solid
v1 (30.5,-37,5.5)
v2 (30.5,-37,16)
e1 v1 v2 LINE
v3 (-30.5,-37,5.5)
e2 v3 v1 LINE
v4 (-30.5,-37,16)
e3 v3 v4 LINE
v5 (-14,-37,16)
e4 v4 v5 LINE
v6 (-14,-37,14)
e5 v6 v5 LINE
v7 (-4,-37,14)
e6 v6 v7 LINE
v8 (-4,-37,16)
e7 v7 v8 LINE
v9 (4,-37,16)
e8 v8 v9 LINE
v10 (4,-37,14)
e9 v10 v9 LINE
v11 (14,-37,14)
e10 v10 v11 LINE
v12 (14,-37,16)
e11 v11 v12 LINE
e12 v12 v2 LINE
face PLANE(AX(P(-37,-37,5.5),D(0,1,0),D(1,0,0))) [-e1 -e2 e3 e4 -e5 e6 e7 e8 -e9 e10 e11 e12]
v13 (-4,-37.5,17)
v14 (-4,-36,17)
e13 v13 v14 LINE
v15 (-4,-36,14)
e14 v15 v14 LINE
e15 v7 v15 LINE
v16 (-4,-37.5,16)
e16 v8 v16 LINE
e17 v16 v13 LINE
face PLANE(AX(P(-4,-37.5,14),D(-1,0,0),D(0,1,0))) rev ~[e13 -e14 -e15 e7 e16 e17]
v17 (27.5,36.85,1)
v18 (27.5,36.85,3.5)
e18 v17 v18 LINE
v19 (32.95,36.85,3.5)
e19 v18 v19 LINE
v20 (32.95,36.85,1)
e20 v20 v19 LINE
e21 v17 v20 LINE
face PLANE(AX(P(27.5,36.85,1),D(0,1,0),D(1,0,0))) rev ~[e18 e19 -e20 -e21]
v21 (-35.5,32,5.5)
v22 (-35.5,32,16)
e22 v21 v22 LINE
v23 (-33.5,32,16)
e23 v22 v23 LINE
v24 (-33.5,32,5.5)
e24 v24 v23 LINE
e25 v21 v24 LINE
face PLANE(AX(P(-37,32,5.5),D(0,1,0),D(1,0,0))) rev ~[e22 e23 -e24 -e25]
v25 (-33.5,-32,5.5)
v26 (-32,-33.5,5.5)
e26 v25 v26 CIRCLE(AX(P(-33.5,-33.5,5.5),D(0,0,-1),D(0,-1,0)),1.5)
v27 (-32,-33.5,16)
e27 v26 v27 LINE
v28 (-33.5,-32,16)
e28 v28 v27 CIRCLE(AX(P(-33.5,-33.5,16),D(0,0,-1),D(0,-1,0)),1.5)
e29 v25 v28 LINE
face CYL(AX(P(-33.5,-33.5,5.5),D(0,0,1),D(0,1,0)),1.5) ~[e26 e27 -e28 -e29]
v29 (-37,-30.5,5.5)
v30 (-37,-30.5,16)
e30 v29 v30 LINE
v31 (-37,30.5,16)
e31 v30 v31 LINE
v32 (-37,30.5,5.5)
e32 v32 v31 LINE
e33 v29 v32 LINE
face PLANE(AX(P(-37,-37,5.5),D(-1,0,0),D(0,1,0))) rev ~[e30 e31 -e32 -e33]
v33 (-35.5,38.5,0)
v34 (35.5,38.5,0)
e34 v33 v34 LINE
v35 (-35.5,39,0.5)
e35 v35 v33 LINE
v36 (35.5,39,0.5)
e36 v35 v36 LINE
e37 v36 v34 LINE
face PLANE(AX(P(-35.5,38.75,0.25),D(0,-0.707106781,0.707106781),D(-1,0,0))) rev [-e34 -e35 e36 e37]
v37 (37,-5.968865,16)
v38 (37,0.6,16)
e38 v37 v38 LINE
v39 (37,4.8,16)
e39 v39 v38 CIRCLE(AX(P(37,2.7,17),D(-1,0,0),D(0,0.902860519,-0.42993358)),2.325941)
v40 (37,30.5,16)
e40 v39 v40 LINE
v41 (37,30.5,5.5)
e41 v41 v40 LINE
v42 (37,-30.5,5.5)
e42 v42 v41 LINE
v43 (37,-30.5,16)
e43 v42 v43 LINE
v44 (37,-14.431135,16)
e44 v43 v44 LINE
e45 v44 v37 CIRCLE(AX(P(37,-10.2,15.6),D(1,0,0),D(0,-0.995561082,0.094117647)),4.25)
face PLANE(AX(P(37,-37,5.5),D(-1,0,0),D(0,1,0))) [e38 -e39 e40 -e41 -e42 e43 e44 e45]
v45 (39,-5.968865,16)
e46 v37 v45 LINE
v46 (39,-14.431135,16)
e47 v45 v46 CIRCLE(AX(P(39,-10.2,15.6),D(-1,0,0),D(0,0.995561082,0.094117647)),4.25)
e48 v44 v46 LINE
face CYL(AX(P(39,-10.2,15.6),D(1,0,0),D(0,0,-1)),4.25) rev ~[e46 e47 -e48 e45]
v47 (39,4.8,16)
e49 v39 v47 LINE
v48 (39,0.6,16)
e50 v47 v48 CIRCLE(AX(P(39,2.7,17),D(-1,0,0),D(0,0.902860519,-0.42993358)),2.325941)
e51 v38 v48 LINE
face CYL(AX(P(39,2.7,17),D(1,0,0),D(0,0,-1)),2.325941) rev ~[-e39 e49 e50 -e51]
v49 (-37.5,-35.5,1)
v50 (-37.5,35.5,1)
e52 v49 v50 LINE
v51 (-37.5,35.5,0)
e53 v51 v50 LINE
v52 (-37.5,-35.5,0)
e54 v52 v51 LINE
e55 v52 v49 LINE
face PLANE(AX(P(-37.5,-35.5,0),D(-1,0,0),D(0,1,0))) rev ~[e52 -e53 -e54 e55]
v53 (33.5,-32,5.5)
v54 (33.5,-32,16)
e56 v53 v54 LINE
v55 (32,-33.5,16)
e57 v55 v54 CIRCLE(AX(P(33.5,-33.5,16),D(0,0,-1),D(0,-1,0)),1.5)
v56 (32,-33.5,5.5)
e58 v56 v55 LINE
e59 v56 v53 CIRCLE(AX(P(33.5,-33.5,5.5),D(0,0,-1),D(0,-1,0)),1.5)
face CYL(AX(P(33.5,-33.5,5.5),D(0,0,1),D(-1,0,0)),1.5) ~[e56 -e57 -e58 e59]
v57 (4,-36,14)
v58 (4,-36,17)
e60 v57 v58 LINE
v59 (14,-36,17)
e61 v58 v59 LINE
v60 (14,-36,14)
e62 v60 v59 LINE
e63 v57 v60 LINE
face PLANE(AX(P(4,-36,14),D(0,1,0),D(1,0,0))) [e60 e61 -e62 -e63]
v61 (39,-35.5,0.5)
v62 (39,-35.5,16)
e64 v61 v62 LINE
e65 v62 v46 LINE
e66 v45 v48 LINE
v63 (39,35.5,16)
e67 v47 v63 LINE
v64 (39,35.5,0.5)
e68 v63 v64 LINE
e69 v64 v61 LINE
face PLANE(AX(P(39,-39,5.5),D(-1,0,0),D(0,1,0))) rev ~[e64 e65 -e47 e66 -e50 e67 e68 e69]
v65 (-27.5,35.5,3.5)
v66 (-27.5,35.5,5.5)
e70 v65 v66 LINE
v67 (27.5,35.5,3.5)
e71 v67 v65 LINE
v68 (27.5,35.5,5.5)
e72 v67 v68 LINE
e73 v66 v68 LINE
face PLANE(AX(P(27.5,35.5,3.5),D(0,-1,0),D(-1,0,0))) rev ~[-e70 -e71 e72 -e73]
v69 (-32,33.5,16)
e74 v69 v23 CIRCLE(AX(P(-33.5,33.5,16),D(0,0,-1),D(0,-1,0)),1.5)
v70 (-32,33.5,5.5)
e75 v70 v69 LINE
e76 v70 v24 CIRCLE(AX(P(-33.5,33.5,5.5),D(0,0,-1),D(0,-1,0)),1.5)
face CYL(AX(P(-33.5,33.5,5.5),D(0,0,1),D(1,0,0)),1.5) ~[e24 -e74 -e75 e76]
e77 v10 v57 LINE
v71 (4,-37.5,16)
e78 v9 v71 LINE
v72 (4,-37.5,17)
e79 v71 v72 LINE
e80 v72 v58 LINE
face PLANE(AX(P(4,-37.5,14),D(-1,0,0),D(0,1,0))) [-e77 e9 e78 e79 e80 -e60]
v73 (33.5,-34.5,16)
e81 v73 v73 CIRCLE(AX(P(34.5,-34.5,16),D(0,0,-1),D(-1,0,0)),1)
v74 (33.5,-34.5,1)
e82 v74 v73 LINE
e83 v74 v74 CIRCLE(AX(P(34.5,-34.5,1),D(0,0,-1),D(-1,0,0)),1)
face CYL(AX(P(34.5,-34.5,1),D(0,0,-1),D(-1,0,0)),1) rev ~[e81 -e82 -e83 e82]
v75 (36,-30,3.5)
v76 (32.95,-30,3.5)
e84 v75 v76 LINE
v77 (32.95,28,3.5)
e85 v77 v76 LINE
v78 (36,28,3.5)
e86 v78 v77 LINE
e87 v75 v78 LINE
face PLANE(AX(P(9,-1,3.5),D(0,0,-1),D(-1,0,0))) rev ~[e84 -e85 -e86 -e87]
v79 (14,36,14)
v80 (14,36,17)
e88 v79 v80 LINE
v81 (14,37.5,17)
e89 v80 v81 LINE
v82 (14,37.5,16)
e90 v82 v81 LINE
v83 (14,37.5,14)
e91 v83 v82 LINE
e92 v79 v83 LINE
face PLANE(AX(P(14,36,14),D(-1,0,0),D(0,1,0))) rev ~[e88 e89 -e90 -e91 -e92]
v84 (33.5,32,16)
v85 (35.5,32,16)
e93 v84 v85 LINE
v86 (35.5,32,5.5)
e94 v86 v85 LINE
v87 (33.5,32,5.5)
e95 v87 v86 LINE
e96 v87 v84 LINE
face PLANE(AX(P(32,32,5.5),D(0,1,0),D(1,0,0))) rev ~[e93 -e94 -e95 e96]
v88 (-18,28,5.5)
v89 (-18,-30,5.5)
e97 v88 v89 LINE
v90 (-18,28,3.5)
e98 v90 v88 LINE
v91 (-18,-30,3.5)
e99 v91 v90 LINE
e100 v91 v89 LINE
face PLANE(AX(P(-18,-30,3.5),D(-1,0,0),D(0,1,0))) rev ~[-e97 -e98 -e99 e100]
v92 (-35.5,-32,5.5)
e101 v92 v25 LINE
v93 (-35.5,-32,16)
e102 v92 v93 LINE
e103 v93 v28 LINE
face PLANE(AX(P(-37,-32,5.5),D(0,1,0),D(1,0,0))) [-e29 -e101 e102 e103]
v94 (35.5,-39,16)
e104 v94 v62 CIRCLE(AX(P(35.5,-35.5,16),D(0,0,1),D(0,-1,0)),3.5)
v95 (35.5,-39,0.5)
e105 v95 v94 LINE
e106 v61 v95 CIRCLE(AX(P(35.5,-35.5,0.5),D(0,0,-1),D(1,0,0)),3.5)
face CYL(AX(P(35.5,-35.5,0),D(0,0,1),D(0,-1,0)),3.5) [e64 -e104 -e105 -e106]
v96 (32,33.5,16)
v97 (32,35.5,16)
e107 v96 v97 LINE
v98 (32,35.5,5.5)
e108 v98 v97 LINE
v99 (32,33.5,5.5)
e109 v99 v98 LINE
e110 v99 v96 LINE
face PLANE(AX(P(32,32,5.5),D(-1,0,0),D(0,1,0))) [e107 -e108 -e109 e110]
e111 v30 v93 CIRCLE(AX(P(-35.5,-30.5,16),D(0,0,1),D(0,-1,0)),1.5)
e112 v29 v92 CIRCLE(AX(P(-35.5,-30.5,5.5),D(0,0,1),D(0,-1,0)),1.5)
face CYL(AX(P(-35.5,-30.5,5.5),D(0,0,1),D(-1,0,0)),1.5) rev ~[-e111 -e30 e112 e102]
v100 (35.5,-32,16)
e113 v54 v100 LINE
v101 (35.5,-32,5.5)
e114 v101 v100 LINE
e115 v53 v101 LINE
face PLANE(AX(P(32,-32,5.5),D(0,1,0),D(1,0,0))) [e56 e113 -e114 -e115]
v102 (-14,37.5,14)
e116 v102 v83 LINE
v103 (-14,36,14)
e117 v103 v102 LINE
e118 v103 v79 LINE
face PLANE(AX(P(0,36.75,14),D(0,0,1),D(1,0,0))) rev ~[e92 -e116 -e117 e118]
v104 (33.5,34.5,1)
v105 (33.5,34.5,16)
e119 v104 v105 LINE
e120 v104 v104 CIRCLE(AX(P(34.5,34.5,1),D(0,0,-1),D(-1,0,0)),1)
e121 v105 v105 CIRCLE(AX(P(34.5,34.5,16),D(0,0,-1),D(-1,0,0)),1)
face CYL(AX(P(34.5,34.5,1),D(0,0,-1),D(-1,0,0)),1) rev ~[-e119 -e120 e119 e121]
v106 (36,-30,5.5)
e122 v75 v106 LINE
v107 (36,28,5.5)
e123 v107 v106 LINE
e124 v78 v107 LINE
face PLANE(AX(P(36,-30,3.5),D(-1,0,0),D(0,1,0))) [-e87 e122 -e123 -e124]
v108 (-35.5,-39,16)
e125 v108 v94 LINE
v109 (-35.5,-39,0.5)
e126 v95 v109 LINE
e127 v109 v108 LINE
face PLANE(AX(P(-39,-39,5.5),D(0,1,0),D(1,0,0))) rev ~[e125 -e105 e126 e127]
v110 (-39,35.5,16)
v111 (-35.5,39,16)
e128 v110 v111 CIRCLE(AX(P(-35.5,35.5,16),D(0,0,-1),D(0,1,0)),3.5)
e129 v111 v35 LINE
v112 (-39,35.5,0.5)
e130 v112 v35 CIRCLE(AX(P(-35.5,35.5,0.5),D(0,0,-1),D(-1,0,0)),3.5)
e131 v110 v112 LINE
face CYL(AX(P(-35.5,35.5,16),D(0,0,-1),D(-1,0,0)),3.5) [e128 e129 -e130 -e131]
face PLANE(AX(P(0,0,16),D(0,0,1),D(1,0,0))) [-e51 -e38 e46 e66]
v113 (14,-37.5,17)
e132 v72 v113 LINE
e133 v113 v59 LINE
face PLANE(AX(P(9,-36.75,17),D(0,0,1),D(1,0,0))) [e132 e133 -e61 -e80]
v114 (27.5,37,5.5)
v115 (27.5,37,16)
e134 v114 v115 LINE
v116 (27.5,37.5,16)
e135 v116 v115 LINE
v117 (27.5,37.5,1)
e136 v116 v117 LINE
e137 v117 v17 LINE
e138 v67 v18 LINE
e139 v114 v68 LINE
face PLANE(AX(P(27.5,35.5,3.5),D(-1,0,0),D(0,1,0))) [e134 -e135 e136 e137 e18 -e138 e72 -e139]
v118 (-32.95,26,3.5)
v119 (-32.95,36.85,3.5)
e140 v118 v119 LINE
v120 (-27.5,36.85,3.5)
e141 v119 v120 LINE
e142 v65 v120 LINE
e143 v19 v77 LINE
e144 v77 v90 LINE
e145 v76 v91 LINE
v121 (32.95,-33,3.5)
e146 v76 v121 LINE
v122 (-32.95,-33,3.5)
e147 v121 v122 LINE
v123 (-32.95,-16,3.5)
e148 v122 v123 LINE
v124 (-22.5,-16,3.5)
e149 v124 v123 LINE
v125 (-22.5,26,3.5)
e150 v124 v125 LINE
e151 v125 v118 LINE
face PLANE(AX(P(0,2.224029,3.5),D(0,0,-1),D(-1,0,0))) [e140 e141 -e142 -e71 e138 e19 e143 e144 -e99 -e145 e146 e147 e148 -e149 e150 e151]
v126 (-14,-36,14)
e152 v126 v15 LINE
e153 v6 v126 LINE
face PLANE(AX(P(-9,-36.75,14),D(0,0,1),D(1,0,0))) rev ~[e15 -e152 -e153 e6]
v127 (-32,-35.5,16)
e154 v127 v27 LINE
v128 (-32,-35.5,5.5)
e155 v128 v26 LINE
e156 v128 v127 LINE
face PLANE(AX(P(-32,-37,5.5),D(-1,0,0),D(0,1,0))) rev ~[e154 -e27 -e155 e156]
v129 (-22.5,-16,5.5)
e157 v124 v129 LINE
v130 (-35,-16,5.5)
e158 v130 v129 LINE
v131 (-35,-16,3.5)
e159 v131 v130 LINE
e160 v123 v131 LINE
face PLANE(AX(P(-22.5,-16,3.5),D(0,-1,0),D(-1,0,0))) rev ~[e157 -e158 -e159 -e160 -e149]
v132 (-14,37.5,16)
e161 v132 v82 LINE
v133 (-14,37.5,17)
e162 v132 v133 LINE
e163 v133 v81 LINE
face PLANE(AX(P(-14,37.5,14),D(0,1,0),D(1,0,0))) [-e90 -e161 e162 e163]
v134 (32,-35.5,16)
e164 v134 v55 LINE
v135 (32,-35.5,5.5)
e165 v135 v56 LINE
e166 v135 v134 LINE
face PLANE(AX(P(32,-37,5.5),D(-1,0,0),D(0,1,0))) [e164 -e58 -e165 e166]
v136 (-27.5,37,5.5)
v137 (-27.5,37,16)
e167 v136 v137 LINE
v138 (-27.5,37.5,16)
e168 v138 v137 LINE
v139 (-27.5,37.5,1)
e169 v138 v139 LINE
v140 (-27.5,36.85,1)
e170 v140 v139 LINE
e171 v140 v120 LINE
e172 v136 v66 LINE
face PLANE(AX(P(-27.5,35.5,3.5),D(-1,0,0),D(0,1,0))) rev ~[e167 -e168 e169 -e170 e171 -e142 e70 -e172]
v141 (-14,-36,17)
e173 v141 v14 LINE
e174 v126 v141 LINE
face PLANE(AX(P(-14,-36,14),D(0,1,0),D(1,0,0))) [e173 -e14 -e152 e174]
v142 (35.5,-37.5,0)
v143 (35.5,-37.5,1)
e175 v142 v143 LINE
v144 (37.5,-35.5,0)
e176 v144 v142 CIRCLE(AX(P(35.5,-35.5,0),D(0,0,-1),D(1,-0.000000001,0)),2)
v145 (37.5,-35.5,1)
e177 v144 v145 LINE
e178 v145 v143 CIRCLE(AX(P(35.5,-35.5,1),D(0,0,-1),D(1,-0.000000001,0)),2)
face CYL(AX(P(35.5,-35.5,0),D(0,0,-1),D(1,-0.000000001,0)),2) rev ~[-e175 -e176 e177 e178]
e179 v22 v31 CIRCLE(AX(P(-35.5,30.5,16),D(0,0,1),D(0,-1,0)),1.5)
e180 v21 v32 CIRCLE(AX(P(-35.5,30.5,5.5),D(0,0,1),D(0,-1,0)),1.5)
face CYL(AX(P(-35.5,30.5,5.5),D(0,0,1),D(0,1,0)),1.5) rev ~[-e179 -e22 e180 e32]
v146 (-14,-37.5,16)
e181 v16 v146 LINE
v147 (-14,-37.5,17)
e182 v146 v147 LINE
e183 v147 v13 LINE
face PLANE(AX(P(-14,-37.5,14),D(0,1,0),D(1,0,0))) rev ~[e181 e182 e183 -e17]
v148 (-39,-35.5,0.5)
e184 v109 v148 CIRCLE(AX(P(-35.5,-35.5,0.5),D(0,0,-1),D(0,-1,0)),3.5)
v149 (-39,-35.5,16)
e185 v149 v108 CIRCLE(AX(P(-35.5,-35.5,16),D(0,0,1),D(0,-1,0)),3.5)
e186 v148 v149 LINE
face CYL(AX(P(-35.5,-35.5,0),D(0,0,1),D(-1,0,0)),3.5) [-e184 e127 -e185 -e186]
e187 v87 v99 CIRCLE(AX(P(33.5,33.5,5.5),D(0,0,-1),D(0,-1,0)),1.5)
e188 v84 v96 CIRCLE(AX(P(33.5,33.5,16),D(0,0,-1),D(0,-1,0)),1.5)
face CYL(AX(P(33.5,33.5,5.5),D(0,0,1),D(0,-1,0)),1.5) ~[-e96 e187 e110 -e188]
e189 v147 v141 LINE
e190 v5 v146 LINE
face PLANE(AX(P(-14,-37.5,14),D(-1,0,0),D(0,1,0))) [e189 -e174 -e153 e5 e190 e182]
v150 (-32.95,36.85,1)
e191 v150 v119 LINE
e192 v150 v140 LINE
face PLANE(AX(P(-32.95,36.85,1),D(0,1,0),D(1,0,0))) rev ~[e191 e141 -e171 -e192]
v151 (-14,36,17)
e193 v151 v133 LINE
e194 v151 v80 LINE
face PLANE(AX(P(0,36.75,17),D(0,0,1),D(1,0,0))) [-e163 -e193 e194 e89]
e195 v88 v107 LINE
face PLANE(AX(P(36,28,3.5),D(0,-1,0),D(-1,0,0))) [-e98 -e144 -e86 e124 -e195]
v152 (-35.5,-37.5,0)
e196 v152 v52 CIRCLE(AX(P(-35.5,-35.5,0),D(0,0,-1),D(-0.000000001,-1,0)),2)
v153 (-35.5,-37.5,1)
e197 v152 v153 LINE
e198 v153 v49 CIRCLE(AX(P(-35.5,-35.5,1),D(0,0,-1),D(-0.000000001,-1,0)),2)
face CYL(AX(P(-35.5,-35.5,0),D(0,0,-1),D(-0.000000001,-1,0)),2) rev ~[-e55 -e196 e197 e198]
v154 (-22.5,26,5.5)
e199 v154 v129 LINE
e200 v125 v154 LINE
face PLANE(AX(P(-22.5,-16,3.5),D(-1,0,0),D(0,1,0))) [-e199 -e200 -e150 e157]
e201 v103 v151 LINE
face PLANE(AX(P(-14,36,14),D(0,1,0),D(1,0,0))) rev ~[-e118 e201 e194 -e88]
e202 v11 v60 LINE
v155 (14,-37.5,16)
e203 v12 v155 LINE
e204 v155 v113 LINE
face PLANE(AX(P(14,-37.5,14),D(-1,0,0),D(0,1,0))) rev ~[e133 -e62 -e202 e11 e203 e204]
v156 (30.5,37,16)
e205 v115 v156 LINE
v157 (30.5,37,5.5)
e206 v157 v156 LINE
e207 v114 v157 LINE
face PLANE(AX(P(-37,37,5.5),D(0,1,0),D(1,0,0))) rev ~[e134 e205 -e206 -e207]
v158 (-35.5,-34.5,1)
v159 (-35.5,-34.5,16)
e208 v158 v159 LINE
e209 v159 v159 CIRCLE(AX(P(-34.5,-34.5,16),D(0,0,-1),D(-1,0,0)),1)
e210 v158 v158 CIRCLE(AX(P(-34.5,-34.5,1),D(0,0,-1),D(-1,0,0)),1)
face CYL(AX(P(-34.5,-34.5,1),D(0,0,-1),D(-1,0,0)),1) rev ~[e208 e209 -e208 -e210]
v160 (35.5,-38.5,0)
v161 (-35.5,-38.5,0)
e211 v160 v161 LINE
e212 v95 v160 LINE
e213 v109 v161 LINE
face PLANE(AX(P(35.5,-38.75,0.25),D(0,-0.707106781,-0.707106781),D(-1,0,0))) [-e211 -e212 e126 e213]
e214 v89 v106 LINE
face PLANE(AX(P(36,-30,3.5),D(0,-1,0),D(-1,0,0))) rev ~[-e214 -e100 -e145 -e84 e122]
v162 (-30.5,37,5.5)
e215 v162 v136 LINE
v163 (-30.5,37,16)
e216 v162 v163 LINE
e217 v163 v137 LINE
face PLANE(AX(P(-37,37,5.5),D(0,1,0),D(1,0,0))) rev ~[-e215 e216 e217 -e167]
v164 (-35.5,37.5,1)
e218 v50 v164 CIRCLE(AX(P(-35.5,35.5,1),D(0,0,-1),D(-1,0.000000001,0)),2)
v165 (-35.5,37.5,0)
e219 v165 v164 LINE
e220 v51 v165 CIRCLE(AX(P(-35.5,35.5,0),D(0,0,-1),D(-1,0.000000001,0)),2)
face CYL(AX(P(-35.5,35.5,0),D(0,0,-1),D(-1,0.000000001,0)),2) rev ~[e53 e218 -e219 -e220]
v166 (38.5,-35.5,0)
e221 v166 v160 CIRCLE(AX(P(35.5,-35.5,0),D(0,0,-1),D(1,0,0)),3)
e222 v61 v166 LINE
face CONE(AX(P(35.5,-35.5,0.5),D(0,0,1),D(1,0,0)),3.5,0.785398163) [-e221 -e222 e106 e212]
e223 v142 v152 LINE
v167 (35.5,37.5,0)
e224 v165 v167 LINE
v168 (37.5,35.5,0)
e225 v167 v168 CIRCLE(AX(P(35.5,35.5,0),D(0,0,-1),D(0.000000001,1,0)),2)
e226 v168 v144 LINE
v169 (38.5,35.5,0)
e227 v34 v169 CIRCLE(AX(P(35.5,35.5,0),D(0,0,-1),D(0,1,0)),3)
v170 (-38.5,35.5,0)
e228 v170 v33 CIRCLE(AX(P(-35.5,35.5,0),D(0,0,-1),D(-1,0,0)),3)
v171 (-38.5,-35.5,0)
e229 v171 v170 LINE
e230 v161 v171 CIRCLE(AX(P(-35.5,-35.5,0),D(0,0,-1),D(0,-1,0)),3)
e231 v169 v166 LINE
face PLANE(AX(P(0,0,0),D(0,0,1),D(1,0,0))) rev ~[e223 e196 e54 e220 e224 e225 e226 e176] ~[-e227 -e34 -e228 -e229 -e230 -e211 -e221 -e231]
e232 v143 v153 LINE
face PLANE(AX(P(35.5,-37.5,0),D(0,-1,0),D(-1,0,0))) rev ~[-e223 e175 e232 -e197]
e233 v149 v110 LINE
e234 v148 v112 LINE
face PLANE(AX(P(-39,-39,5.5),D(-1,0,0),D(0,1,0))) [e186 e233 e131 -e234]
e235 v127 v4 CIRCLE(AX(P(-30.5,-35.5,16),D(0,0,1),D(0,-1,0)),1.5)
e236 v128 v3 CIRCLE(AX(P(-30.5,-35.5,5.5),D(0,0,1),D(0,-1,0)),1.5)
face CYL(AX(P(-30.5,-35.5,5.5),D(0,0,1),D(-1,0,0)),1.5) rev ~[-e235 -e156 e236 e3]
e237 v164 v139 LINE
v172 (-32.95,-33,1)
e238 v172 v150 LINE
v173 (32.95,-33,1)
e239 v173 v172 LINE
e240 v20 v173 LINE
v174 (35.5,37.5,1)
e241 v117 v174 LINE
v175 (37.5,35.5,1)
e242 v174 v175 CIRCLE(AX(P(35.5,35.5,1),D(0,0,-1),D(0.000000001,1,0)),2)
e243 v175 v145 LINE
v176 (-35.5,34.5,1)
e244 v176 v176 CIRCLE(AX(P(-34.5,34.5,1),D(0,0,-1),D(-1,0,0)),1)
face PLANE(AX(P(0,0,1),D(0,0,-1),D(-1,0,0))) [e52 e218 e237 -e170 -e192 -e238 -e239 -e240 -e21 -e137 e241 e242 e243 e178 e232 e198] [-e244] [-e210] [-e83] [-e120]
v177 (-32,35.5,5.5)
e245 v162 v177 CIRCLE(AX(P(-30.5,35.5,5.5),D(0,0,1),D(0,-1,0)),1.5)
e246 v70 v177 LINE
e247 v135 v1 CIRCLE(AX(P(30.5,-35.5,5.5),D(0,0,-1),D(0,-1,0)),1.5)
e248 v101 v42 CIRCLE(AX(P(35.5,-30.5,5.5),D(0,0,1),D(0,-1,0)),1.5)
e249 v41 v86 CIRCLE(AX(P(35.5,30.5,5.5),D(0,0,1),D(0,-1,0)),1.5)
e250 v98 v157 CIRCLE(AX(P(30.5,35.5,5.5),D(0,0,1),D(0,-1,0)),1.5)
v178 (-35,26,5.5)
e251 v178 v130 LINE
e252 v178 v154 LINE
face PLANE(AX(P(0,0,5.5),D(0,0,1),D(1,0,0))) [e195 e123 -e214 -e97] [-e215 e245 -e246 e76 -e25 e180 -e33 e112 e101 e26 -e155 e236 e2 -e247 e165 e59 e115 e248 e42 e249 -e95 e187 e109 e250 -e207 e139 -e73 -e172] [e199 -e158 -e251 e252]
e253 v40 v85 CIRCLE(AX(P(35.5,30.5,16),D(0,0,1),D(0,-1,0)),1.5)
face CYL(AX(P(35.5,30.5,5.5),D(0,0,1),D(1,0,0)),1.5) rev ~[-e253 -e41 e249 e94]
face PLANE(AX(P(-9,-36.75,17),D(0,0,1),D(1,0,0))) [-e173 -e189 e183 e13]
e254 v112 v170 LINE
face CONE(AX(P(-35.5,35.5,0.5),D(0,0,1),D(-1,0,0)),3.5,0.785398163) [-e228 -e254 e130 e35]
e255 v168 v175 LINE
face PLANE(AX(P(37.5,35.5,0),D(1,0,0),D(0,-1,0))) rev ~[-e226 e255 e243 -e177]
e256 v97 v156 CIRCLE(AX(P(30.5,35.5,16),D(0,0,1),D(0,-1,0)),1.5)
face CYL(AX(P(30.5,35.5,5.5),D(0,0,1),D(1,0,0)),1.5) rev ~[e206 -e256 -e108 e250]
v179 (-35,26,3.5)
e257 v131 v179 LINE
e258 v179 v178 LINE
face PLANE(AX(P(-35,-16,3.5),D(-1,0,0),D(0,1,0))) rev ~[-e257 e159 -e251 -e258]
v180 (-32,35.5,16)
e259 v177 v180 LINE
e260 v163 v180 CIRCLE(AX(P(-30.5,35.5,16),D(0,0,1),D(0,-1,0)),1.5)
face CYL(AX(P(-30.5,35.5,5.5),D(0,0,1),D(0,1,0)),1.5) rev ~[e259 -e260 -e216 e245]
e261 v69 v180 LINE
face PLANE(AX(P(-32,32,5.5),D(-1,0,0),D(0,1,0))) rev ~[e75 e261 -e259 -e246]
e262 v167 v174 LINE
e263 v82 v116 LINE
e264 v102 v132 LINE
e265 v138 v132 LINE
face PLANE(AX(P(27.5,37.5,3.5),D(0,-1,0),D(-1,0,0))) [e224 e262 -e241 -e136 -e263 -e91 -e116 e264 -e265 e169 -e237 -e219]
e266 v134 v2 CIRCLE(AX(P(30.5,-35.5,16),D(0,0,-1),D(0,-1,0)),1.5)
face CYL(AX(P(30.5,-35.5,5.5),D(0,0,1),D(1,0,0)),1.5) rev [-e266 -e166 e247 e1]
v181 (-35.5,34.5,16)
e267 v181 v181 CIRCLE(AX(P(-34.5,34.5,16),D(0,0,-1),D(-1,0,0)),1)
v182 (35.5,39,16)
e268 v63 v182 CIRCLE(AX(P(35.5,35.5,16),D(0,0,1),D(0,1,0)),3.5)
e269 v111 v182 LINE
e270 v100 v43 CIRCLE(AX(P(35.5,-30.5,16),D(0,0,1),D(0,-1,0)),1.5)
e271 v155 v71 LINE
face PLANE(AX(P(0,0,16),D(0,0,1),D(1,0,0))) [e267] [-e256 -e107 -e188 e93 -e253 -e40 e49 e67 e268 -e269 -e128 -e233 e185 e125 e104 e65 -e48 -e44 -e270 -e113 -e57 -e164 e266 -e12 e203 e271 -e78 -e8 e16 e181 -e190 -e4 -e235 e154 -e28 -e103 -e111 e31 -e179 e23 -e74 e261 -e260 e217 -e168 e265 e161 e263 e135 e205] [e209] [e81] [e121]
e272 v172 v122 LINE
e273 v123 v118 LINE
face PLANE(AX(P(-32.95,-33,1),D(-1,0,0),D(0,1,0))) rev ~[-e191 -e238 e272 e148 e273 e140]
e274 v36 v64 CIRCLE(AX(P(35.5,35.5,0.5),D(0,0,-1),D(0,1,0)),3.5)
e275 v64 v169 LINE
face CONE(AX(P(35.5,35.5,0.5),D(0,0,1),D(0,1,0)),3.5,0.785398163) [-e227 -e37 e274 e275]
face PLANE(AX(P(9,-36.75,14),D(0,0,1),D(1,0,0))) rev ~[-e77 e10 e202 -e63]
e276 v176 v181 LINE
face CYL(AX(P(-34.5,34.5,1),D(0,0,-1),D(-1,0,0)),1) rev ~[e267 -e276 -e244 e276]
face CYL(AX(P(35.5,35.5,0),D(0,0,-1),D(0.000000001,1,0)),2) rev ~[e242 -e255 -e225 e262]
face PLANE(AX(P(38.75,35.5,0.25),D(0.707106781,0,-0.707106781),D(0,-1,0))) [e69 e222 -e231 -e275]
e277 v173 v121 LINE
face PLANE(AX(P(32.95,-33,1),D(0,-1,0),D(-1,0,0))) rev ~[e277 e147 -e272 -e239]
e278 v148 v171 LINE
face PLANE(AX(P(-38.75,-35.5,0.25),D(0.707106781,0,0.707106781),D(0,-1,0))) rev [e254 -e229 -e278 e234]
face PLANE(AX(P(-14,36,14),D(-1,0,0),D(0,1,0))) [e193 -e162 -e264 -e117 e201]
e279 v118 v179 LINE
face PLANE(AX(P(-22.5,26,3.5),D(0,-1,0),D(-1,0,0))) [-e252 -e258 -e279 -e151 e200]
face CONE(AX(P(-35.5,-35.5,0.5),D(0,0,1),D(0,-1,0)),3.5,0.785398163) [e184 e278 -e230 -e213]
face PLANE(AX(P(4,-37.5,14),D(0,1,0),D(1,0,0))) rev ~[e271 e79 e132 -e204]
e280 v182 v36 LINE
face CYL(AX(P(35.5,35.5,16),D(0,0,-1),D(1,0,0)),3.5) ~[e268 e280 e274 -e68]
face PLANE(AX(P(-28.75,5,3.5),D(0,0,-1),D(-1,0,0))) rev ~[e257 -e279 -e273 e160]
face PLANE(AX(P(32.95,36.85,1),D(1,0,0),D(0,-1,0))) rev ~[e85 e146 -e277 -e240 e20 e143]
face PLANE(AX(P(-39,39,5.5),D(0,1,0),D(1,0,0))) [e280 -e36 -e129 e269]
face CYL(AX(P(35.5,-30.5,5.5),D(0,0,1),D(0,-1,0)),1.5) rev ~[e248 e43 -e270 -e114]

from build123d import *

# Parameters (mm, degrees)
SKETCH_1_W           = 78
SKETCH_1_H           = 78
EXTRUDE_1_DEPTH      = 5.5
SKETCH_2_W           = 78
SKETCH_2_H           = 78
SKETCH_2_W_2         = 74
SKETCH_2_H_2         = 74
SKETCH_2_W_3         = 5
SKETCH_2_H_3         = 5
EXTRUDE_2_DEPTH      = 10.5
FILLET_1_R           = 1.5
FILLET_2_R           = 3.5
CUT_EXTRUDE_1_DEPTH  = 1
CUT_EXTRUDE_2_DEPTH  = 2.5
SKETCH_5_R           = 1
CUT_EXTRUDE_3_DEPTH  = 58.15767665
CHAMFER_1_SIZE       = 0.5
SKETCH_6_W           = 55
SKETCH_6_H           = 2
SKETCH_6_W_2         = 54
SKETCH_6_H_2         = 58
SKETCH_6_W_3         = 12.5
SKETCH_6_H_3         = 42
CUT_EXTRUDE_4_DEPTH  = 57.553072419
EXTRUDE_3_DEPTH      = 1
EXTRUDE_3_DEPTH_BACK = 2
SKETCH_7_W           = 10
SKETCH_7_H           = 1.5
SKETCH_7_W_2         = 28
SKETCH_8_R           = 4.25
SKETCH_8_R_2         = 2.32594067
CUT_EXTRUDE_5_DEPTH  = 10


with BuildPart() as part:
    # 草图1 → 凸台-拉伸1 (new body)
    with BuildSketch(Plane.XY):
        Rectangle(SKETCH_1_W, SKETCH_1_H)
    extrude(amount=EXTRUDE_1_DEPTH)

    # 草图2 → 凸台-拉伸2 (add)
    # profile 1 of 5: a face of its own
    with BuildSketch(Plane.XY.offset(5.5)):
        Rectangle(SKETCH_2_W, SKETCH_2_H)
        Rectangle(SKETCH_2_W_2, SKETCH_2_H_2, mode=Mode.SUBTRACT)
    # profile 2 of 5: a face of its own
    with BuildSketch(Plane.XY.offset(5.5)):
        with Locations((-34.5, 34.5)):
            Rectangle(SKETCH_2_W_3, SKETCH_2_H_3)
    # profile 3 of 5: a face of its own
    with BuildSketch(Plane.XY.offset(5.5)):
        with Locations((34.5, 34.5)):
            Rectangle(SKETCH_2_W_3, SKETCH_2_H_3)
    # profile 4 of 5: a face of its own
    with BuildSketch(Plane.XY.offset(5.5)):
        with Locations((34.5, -34.5)):
            Rectangle(SKETCH_2_W_3, SKETCH_2_H_3)
    # profile 5 of 5: a face of its own
    with BuildSketch(Plane.XY.offset(5.5)):
        with Locations((-34.5, -34.5)):
            Rectangle(SKETCH_2_W_3, SKETCH_2_H_3)
    extrude(amount=EXTRUDE_2_DEPTH)

    # 圆角1
    fillet_1_edges = [part.edges().sort_by_distance(p)[0] for p in [
        (-37, -32, 10.75),
        (-37, 32, 10.75),
        (-32, 32, 10.75),
        (-32, 37, 10.75),
        (32, 37, 10.75),
        (32, 32, 10.75),
        (37, 32, 10.75),
        (37, -32, 10.75),
        (32, -32, 10.75),
        (32, -37, 10.75),
        (-32, -37, 10.75),
        (-32, -32, 10.75),
    ]]
    fillet(fillet_1_edges, radius=FILLET_1_R)

    # 圆角2
    fillet_2_edges = [part.edges().sort_by_distance(p)[0] for p in [
        (39, -39, 8),
        (-39, -39, 8),
        (-39, 39, 8),
        (39, 39, 8),
    ]]
    fillet(fillet_2_edges, radius=FILLET_2_R)

    # 草图3 → 切除-拉伸1 (cut)
    with BuildSketch(Plane(origin=(0, 0, 0), x_dir=(-1, 0, 0), z_dir=(0, 0, -1))):
        with BuildLine():
            Line((37.5, -35.5), (37.5, 35.5))
            ThreePointArc((37.5, 35.5), (36.914213562, 36.914213562), (35.5, 37.5))
            Line((35.5, 37.5), (-35.5, 37.5))
            ThreePointArc((-35.5, 37.5), (-36.914213562, 36.914213562), (-37.5, 35.5))
            Line((-37.5, 35.5), (-37.5, -35.5))
            ThreePointArc((-37.5, -35.5), (-36.914213562, -36.914213562), (-35.5, -37.5))
            Line((-35.5, -37.5), (35.5, -37.5))
            ThreePointArc((35.5, -37.5), (36.914213562, -36.914213562), (37.5, -35.5))
        make_face()
    extrude(amount=-CUT_EXTRUDE_1_DEPTH, mode=Mode.SUBTRACT)

    # 草图4 → 切除-拉伸2 (cut)
    with BuildSketch(Plane(origin=(0, 0, 1), x_dir=(-1, 0, 0), z_dir=(0, 0, -1))):
        Polygon((27.5, 37.5), (-27.5, 37.5), (-27.5, 36.85), (-32.95, 36.85), (-32.95, -33), (32.95, -33), (32.95, 36.85), (27.5, 36.85), align=None)
    extrude(amount=-CUT_EXTRUDE_2_DEPTH, mode=Mode.SUBTRACT)

    # 草图5 → 切除-拉伸3 (cut, through all)
    with BuildSketch(Plane(origin=(0, 0, 1), x_dir=(-1, 0, 0), z_dir=(0, 0, -1))):
        with Locations((-34.5, 34.5)):
            Circle(SKETCH_5_R)
        with Locations((34.5, 34.5)):
            Circle(SKETCH_5_R)
        with Locations((34.5, -34.5)):
            Circle(SKETCH_5_R)
        with Locations((-34.5, -34.5)):
            Circle(SKETCH_5_R)
    extrude(amount=-CUT_EXTRUDE_3_DEPTH, mode=Mode.SUBTRACT)

    # 倒角1
    chamfer_1_edges = [part.edges().sort_by_distance(p)[0] for p in [
        (-39, 0, 0),
        (39, 0, 0),
        (0, -39, 0),
        (0, 39, 0),
        (-37.974873734, -37.974873734, 0),
        (37.974873734, -37.974873734, 0),
        (37.974873734, 37.974873734, 0),
        (-37.974873734, 37.974873734, 0),
    ]]
    chamfer(chamfer_1_edges, length=CHAMFER_1_SIZE)

    # 草图6 → 切除-拉伸4 (cut, through all)
    with BuildSketch(Plane(origin=(0, 0, 3.5), x_dir=(-1, 0, 0), z_dir=(0, 0, -1))):
        with Locations((0, 36.5)):
            Rectangle(SKETCH_6_W, SKETCH_6_H)
        with Locations((-9, -1)):
            Rectangle(SKETCH_6_W_2, SKETCH_6_H_2)
        with Locations((28.75, 5)):
            Rectangle(SKETCH_6_W_3, SKETCH_6_H_3)
    extrude(amount=-CUT_EXTRUDE_4_DEPTH, mode=Mode.SUBTRACT)

    # 草图7 → 凸台-拉伸3 (add, two sides: drawn at the far end of the back side and taken through both)
    with BuildSketch(Plane.XY.offset(16).offset(-EXTRUDE_3_DEPTH_BACK)):
        with Locations((9, -36.75)):
            Rectangle(SKETCH_7_W, SKETCH_7_H)
        with Locations((-9, -36.75)):
            Rectangle(SKETCH_7_W, SKETCH_7_H)
        with Locations((0, 36.75)):
            Rectangle(SKETCH_7_W_2, SKETCH_7_H)
    extrude(amount=EXTRUDE_3_DEPTH + EXTRUDE_3_DEPTH_BACK)

    # 草图8 → 切除-拉伸5 (cut)
    with BuildSketch(Plane(origin=(39, 0, 0), x_dir=(0, 0, -1), z_dir=(1, 0, 0))):
        with Locations((-15.6, -10.2)):
            Circle(SKETCH_8_R)
        with Locations((-17, 2.7)):
            Circle(SKETCH_8_R_2)
    extrude(amount=-CUT_EXTRUDE_5_DEPTH, mode=Mode.SUBTRACT)


solid = part.part
